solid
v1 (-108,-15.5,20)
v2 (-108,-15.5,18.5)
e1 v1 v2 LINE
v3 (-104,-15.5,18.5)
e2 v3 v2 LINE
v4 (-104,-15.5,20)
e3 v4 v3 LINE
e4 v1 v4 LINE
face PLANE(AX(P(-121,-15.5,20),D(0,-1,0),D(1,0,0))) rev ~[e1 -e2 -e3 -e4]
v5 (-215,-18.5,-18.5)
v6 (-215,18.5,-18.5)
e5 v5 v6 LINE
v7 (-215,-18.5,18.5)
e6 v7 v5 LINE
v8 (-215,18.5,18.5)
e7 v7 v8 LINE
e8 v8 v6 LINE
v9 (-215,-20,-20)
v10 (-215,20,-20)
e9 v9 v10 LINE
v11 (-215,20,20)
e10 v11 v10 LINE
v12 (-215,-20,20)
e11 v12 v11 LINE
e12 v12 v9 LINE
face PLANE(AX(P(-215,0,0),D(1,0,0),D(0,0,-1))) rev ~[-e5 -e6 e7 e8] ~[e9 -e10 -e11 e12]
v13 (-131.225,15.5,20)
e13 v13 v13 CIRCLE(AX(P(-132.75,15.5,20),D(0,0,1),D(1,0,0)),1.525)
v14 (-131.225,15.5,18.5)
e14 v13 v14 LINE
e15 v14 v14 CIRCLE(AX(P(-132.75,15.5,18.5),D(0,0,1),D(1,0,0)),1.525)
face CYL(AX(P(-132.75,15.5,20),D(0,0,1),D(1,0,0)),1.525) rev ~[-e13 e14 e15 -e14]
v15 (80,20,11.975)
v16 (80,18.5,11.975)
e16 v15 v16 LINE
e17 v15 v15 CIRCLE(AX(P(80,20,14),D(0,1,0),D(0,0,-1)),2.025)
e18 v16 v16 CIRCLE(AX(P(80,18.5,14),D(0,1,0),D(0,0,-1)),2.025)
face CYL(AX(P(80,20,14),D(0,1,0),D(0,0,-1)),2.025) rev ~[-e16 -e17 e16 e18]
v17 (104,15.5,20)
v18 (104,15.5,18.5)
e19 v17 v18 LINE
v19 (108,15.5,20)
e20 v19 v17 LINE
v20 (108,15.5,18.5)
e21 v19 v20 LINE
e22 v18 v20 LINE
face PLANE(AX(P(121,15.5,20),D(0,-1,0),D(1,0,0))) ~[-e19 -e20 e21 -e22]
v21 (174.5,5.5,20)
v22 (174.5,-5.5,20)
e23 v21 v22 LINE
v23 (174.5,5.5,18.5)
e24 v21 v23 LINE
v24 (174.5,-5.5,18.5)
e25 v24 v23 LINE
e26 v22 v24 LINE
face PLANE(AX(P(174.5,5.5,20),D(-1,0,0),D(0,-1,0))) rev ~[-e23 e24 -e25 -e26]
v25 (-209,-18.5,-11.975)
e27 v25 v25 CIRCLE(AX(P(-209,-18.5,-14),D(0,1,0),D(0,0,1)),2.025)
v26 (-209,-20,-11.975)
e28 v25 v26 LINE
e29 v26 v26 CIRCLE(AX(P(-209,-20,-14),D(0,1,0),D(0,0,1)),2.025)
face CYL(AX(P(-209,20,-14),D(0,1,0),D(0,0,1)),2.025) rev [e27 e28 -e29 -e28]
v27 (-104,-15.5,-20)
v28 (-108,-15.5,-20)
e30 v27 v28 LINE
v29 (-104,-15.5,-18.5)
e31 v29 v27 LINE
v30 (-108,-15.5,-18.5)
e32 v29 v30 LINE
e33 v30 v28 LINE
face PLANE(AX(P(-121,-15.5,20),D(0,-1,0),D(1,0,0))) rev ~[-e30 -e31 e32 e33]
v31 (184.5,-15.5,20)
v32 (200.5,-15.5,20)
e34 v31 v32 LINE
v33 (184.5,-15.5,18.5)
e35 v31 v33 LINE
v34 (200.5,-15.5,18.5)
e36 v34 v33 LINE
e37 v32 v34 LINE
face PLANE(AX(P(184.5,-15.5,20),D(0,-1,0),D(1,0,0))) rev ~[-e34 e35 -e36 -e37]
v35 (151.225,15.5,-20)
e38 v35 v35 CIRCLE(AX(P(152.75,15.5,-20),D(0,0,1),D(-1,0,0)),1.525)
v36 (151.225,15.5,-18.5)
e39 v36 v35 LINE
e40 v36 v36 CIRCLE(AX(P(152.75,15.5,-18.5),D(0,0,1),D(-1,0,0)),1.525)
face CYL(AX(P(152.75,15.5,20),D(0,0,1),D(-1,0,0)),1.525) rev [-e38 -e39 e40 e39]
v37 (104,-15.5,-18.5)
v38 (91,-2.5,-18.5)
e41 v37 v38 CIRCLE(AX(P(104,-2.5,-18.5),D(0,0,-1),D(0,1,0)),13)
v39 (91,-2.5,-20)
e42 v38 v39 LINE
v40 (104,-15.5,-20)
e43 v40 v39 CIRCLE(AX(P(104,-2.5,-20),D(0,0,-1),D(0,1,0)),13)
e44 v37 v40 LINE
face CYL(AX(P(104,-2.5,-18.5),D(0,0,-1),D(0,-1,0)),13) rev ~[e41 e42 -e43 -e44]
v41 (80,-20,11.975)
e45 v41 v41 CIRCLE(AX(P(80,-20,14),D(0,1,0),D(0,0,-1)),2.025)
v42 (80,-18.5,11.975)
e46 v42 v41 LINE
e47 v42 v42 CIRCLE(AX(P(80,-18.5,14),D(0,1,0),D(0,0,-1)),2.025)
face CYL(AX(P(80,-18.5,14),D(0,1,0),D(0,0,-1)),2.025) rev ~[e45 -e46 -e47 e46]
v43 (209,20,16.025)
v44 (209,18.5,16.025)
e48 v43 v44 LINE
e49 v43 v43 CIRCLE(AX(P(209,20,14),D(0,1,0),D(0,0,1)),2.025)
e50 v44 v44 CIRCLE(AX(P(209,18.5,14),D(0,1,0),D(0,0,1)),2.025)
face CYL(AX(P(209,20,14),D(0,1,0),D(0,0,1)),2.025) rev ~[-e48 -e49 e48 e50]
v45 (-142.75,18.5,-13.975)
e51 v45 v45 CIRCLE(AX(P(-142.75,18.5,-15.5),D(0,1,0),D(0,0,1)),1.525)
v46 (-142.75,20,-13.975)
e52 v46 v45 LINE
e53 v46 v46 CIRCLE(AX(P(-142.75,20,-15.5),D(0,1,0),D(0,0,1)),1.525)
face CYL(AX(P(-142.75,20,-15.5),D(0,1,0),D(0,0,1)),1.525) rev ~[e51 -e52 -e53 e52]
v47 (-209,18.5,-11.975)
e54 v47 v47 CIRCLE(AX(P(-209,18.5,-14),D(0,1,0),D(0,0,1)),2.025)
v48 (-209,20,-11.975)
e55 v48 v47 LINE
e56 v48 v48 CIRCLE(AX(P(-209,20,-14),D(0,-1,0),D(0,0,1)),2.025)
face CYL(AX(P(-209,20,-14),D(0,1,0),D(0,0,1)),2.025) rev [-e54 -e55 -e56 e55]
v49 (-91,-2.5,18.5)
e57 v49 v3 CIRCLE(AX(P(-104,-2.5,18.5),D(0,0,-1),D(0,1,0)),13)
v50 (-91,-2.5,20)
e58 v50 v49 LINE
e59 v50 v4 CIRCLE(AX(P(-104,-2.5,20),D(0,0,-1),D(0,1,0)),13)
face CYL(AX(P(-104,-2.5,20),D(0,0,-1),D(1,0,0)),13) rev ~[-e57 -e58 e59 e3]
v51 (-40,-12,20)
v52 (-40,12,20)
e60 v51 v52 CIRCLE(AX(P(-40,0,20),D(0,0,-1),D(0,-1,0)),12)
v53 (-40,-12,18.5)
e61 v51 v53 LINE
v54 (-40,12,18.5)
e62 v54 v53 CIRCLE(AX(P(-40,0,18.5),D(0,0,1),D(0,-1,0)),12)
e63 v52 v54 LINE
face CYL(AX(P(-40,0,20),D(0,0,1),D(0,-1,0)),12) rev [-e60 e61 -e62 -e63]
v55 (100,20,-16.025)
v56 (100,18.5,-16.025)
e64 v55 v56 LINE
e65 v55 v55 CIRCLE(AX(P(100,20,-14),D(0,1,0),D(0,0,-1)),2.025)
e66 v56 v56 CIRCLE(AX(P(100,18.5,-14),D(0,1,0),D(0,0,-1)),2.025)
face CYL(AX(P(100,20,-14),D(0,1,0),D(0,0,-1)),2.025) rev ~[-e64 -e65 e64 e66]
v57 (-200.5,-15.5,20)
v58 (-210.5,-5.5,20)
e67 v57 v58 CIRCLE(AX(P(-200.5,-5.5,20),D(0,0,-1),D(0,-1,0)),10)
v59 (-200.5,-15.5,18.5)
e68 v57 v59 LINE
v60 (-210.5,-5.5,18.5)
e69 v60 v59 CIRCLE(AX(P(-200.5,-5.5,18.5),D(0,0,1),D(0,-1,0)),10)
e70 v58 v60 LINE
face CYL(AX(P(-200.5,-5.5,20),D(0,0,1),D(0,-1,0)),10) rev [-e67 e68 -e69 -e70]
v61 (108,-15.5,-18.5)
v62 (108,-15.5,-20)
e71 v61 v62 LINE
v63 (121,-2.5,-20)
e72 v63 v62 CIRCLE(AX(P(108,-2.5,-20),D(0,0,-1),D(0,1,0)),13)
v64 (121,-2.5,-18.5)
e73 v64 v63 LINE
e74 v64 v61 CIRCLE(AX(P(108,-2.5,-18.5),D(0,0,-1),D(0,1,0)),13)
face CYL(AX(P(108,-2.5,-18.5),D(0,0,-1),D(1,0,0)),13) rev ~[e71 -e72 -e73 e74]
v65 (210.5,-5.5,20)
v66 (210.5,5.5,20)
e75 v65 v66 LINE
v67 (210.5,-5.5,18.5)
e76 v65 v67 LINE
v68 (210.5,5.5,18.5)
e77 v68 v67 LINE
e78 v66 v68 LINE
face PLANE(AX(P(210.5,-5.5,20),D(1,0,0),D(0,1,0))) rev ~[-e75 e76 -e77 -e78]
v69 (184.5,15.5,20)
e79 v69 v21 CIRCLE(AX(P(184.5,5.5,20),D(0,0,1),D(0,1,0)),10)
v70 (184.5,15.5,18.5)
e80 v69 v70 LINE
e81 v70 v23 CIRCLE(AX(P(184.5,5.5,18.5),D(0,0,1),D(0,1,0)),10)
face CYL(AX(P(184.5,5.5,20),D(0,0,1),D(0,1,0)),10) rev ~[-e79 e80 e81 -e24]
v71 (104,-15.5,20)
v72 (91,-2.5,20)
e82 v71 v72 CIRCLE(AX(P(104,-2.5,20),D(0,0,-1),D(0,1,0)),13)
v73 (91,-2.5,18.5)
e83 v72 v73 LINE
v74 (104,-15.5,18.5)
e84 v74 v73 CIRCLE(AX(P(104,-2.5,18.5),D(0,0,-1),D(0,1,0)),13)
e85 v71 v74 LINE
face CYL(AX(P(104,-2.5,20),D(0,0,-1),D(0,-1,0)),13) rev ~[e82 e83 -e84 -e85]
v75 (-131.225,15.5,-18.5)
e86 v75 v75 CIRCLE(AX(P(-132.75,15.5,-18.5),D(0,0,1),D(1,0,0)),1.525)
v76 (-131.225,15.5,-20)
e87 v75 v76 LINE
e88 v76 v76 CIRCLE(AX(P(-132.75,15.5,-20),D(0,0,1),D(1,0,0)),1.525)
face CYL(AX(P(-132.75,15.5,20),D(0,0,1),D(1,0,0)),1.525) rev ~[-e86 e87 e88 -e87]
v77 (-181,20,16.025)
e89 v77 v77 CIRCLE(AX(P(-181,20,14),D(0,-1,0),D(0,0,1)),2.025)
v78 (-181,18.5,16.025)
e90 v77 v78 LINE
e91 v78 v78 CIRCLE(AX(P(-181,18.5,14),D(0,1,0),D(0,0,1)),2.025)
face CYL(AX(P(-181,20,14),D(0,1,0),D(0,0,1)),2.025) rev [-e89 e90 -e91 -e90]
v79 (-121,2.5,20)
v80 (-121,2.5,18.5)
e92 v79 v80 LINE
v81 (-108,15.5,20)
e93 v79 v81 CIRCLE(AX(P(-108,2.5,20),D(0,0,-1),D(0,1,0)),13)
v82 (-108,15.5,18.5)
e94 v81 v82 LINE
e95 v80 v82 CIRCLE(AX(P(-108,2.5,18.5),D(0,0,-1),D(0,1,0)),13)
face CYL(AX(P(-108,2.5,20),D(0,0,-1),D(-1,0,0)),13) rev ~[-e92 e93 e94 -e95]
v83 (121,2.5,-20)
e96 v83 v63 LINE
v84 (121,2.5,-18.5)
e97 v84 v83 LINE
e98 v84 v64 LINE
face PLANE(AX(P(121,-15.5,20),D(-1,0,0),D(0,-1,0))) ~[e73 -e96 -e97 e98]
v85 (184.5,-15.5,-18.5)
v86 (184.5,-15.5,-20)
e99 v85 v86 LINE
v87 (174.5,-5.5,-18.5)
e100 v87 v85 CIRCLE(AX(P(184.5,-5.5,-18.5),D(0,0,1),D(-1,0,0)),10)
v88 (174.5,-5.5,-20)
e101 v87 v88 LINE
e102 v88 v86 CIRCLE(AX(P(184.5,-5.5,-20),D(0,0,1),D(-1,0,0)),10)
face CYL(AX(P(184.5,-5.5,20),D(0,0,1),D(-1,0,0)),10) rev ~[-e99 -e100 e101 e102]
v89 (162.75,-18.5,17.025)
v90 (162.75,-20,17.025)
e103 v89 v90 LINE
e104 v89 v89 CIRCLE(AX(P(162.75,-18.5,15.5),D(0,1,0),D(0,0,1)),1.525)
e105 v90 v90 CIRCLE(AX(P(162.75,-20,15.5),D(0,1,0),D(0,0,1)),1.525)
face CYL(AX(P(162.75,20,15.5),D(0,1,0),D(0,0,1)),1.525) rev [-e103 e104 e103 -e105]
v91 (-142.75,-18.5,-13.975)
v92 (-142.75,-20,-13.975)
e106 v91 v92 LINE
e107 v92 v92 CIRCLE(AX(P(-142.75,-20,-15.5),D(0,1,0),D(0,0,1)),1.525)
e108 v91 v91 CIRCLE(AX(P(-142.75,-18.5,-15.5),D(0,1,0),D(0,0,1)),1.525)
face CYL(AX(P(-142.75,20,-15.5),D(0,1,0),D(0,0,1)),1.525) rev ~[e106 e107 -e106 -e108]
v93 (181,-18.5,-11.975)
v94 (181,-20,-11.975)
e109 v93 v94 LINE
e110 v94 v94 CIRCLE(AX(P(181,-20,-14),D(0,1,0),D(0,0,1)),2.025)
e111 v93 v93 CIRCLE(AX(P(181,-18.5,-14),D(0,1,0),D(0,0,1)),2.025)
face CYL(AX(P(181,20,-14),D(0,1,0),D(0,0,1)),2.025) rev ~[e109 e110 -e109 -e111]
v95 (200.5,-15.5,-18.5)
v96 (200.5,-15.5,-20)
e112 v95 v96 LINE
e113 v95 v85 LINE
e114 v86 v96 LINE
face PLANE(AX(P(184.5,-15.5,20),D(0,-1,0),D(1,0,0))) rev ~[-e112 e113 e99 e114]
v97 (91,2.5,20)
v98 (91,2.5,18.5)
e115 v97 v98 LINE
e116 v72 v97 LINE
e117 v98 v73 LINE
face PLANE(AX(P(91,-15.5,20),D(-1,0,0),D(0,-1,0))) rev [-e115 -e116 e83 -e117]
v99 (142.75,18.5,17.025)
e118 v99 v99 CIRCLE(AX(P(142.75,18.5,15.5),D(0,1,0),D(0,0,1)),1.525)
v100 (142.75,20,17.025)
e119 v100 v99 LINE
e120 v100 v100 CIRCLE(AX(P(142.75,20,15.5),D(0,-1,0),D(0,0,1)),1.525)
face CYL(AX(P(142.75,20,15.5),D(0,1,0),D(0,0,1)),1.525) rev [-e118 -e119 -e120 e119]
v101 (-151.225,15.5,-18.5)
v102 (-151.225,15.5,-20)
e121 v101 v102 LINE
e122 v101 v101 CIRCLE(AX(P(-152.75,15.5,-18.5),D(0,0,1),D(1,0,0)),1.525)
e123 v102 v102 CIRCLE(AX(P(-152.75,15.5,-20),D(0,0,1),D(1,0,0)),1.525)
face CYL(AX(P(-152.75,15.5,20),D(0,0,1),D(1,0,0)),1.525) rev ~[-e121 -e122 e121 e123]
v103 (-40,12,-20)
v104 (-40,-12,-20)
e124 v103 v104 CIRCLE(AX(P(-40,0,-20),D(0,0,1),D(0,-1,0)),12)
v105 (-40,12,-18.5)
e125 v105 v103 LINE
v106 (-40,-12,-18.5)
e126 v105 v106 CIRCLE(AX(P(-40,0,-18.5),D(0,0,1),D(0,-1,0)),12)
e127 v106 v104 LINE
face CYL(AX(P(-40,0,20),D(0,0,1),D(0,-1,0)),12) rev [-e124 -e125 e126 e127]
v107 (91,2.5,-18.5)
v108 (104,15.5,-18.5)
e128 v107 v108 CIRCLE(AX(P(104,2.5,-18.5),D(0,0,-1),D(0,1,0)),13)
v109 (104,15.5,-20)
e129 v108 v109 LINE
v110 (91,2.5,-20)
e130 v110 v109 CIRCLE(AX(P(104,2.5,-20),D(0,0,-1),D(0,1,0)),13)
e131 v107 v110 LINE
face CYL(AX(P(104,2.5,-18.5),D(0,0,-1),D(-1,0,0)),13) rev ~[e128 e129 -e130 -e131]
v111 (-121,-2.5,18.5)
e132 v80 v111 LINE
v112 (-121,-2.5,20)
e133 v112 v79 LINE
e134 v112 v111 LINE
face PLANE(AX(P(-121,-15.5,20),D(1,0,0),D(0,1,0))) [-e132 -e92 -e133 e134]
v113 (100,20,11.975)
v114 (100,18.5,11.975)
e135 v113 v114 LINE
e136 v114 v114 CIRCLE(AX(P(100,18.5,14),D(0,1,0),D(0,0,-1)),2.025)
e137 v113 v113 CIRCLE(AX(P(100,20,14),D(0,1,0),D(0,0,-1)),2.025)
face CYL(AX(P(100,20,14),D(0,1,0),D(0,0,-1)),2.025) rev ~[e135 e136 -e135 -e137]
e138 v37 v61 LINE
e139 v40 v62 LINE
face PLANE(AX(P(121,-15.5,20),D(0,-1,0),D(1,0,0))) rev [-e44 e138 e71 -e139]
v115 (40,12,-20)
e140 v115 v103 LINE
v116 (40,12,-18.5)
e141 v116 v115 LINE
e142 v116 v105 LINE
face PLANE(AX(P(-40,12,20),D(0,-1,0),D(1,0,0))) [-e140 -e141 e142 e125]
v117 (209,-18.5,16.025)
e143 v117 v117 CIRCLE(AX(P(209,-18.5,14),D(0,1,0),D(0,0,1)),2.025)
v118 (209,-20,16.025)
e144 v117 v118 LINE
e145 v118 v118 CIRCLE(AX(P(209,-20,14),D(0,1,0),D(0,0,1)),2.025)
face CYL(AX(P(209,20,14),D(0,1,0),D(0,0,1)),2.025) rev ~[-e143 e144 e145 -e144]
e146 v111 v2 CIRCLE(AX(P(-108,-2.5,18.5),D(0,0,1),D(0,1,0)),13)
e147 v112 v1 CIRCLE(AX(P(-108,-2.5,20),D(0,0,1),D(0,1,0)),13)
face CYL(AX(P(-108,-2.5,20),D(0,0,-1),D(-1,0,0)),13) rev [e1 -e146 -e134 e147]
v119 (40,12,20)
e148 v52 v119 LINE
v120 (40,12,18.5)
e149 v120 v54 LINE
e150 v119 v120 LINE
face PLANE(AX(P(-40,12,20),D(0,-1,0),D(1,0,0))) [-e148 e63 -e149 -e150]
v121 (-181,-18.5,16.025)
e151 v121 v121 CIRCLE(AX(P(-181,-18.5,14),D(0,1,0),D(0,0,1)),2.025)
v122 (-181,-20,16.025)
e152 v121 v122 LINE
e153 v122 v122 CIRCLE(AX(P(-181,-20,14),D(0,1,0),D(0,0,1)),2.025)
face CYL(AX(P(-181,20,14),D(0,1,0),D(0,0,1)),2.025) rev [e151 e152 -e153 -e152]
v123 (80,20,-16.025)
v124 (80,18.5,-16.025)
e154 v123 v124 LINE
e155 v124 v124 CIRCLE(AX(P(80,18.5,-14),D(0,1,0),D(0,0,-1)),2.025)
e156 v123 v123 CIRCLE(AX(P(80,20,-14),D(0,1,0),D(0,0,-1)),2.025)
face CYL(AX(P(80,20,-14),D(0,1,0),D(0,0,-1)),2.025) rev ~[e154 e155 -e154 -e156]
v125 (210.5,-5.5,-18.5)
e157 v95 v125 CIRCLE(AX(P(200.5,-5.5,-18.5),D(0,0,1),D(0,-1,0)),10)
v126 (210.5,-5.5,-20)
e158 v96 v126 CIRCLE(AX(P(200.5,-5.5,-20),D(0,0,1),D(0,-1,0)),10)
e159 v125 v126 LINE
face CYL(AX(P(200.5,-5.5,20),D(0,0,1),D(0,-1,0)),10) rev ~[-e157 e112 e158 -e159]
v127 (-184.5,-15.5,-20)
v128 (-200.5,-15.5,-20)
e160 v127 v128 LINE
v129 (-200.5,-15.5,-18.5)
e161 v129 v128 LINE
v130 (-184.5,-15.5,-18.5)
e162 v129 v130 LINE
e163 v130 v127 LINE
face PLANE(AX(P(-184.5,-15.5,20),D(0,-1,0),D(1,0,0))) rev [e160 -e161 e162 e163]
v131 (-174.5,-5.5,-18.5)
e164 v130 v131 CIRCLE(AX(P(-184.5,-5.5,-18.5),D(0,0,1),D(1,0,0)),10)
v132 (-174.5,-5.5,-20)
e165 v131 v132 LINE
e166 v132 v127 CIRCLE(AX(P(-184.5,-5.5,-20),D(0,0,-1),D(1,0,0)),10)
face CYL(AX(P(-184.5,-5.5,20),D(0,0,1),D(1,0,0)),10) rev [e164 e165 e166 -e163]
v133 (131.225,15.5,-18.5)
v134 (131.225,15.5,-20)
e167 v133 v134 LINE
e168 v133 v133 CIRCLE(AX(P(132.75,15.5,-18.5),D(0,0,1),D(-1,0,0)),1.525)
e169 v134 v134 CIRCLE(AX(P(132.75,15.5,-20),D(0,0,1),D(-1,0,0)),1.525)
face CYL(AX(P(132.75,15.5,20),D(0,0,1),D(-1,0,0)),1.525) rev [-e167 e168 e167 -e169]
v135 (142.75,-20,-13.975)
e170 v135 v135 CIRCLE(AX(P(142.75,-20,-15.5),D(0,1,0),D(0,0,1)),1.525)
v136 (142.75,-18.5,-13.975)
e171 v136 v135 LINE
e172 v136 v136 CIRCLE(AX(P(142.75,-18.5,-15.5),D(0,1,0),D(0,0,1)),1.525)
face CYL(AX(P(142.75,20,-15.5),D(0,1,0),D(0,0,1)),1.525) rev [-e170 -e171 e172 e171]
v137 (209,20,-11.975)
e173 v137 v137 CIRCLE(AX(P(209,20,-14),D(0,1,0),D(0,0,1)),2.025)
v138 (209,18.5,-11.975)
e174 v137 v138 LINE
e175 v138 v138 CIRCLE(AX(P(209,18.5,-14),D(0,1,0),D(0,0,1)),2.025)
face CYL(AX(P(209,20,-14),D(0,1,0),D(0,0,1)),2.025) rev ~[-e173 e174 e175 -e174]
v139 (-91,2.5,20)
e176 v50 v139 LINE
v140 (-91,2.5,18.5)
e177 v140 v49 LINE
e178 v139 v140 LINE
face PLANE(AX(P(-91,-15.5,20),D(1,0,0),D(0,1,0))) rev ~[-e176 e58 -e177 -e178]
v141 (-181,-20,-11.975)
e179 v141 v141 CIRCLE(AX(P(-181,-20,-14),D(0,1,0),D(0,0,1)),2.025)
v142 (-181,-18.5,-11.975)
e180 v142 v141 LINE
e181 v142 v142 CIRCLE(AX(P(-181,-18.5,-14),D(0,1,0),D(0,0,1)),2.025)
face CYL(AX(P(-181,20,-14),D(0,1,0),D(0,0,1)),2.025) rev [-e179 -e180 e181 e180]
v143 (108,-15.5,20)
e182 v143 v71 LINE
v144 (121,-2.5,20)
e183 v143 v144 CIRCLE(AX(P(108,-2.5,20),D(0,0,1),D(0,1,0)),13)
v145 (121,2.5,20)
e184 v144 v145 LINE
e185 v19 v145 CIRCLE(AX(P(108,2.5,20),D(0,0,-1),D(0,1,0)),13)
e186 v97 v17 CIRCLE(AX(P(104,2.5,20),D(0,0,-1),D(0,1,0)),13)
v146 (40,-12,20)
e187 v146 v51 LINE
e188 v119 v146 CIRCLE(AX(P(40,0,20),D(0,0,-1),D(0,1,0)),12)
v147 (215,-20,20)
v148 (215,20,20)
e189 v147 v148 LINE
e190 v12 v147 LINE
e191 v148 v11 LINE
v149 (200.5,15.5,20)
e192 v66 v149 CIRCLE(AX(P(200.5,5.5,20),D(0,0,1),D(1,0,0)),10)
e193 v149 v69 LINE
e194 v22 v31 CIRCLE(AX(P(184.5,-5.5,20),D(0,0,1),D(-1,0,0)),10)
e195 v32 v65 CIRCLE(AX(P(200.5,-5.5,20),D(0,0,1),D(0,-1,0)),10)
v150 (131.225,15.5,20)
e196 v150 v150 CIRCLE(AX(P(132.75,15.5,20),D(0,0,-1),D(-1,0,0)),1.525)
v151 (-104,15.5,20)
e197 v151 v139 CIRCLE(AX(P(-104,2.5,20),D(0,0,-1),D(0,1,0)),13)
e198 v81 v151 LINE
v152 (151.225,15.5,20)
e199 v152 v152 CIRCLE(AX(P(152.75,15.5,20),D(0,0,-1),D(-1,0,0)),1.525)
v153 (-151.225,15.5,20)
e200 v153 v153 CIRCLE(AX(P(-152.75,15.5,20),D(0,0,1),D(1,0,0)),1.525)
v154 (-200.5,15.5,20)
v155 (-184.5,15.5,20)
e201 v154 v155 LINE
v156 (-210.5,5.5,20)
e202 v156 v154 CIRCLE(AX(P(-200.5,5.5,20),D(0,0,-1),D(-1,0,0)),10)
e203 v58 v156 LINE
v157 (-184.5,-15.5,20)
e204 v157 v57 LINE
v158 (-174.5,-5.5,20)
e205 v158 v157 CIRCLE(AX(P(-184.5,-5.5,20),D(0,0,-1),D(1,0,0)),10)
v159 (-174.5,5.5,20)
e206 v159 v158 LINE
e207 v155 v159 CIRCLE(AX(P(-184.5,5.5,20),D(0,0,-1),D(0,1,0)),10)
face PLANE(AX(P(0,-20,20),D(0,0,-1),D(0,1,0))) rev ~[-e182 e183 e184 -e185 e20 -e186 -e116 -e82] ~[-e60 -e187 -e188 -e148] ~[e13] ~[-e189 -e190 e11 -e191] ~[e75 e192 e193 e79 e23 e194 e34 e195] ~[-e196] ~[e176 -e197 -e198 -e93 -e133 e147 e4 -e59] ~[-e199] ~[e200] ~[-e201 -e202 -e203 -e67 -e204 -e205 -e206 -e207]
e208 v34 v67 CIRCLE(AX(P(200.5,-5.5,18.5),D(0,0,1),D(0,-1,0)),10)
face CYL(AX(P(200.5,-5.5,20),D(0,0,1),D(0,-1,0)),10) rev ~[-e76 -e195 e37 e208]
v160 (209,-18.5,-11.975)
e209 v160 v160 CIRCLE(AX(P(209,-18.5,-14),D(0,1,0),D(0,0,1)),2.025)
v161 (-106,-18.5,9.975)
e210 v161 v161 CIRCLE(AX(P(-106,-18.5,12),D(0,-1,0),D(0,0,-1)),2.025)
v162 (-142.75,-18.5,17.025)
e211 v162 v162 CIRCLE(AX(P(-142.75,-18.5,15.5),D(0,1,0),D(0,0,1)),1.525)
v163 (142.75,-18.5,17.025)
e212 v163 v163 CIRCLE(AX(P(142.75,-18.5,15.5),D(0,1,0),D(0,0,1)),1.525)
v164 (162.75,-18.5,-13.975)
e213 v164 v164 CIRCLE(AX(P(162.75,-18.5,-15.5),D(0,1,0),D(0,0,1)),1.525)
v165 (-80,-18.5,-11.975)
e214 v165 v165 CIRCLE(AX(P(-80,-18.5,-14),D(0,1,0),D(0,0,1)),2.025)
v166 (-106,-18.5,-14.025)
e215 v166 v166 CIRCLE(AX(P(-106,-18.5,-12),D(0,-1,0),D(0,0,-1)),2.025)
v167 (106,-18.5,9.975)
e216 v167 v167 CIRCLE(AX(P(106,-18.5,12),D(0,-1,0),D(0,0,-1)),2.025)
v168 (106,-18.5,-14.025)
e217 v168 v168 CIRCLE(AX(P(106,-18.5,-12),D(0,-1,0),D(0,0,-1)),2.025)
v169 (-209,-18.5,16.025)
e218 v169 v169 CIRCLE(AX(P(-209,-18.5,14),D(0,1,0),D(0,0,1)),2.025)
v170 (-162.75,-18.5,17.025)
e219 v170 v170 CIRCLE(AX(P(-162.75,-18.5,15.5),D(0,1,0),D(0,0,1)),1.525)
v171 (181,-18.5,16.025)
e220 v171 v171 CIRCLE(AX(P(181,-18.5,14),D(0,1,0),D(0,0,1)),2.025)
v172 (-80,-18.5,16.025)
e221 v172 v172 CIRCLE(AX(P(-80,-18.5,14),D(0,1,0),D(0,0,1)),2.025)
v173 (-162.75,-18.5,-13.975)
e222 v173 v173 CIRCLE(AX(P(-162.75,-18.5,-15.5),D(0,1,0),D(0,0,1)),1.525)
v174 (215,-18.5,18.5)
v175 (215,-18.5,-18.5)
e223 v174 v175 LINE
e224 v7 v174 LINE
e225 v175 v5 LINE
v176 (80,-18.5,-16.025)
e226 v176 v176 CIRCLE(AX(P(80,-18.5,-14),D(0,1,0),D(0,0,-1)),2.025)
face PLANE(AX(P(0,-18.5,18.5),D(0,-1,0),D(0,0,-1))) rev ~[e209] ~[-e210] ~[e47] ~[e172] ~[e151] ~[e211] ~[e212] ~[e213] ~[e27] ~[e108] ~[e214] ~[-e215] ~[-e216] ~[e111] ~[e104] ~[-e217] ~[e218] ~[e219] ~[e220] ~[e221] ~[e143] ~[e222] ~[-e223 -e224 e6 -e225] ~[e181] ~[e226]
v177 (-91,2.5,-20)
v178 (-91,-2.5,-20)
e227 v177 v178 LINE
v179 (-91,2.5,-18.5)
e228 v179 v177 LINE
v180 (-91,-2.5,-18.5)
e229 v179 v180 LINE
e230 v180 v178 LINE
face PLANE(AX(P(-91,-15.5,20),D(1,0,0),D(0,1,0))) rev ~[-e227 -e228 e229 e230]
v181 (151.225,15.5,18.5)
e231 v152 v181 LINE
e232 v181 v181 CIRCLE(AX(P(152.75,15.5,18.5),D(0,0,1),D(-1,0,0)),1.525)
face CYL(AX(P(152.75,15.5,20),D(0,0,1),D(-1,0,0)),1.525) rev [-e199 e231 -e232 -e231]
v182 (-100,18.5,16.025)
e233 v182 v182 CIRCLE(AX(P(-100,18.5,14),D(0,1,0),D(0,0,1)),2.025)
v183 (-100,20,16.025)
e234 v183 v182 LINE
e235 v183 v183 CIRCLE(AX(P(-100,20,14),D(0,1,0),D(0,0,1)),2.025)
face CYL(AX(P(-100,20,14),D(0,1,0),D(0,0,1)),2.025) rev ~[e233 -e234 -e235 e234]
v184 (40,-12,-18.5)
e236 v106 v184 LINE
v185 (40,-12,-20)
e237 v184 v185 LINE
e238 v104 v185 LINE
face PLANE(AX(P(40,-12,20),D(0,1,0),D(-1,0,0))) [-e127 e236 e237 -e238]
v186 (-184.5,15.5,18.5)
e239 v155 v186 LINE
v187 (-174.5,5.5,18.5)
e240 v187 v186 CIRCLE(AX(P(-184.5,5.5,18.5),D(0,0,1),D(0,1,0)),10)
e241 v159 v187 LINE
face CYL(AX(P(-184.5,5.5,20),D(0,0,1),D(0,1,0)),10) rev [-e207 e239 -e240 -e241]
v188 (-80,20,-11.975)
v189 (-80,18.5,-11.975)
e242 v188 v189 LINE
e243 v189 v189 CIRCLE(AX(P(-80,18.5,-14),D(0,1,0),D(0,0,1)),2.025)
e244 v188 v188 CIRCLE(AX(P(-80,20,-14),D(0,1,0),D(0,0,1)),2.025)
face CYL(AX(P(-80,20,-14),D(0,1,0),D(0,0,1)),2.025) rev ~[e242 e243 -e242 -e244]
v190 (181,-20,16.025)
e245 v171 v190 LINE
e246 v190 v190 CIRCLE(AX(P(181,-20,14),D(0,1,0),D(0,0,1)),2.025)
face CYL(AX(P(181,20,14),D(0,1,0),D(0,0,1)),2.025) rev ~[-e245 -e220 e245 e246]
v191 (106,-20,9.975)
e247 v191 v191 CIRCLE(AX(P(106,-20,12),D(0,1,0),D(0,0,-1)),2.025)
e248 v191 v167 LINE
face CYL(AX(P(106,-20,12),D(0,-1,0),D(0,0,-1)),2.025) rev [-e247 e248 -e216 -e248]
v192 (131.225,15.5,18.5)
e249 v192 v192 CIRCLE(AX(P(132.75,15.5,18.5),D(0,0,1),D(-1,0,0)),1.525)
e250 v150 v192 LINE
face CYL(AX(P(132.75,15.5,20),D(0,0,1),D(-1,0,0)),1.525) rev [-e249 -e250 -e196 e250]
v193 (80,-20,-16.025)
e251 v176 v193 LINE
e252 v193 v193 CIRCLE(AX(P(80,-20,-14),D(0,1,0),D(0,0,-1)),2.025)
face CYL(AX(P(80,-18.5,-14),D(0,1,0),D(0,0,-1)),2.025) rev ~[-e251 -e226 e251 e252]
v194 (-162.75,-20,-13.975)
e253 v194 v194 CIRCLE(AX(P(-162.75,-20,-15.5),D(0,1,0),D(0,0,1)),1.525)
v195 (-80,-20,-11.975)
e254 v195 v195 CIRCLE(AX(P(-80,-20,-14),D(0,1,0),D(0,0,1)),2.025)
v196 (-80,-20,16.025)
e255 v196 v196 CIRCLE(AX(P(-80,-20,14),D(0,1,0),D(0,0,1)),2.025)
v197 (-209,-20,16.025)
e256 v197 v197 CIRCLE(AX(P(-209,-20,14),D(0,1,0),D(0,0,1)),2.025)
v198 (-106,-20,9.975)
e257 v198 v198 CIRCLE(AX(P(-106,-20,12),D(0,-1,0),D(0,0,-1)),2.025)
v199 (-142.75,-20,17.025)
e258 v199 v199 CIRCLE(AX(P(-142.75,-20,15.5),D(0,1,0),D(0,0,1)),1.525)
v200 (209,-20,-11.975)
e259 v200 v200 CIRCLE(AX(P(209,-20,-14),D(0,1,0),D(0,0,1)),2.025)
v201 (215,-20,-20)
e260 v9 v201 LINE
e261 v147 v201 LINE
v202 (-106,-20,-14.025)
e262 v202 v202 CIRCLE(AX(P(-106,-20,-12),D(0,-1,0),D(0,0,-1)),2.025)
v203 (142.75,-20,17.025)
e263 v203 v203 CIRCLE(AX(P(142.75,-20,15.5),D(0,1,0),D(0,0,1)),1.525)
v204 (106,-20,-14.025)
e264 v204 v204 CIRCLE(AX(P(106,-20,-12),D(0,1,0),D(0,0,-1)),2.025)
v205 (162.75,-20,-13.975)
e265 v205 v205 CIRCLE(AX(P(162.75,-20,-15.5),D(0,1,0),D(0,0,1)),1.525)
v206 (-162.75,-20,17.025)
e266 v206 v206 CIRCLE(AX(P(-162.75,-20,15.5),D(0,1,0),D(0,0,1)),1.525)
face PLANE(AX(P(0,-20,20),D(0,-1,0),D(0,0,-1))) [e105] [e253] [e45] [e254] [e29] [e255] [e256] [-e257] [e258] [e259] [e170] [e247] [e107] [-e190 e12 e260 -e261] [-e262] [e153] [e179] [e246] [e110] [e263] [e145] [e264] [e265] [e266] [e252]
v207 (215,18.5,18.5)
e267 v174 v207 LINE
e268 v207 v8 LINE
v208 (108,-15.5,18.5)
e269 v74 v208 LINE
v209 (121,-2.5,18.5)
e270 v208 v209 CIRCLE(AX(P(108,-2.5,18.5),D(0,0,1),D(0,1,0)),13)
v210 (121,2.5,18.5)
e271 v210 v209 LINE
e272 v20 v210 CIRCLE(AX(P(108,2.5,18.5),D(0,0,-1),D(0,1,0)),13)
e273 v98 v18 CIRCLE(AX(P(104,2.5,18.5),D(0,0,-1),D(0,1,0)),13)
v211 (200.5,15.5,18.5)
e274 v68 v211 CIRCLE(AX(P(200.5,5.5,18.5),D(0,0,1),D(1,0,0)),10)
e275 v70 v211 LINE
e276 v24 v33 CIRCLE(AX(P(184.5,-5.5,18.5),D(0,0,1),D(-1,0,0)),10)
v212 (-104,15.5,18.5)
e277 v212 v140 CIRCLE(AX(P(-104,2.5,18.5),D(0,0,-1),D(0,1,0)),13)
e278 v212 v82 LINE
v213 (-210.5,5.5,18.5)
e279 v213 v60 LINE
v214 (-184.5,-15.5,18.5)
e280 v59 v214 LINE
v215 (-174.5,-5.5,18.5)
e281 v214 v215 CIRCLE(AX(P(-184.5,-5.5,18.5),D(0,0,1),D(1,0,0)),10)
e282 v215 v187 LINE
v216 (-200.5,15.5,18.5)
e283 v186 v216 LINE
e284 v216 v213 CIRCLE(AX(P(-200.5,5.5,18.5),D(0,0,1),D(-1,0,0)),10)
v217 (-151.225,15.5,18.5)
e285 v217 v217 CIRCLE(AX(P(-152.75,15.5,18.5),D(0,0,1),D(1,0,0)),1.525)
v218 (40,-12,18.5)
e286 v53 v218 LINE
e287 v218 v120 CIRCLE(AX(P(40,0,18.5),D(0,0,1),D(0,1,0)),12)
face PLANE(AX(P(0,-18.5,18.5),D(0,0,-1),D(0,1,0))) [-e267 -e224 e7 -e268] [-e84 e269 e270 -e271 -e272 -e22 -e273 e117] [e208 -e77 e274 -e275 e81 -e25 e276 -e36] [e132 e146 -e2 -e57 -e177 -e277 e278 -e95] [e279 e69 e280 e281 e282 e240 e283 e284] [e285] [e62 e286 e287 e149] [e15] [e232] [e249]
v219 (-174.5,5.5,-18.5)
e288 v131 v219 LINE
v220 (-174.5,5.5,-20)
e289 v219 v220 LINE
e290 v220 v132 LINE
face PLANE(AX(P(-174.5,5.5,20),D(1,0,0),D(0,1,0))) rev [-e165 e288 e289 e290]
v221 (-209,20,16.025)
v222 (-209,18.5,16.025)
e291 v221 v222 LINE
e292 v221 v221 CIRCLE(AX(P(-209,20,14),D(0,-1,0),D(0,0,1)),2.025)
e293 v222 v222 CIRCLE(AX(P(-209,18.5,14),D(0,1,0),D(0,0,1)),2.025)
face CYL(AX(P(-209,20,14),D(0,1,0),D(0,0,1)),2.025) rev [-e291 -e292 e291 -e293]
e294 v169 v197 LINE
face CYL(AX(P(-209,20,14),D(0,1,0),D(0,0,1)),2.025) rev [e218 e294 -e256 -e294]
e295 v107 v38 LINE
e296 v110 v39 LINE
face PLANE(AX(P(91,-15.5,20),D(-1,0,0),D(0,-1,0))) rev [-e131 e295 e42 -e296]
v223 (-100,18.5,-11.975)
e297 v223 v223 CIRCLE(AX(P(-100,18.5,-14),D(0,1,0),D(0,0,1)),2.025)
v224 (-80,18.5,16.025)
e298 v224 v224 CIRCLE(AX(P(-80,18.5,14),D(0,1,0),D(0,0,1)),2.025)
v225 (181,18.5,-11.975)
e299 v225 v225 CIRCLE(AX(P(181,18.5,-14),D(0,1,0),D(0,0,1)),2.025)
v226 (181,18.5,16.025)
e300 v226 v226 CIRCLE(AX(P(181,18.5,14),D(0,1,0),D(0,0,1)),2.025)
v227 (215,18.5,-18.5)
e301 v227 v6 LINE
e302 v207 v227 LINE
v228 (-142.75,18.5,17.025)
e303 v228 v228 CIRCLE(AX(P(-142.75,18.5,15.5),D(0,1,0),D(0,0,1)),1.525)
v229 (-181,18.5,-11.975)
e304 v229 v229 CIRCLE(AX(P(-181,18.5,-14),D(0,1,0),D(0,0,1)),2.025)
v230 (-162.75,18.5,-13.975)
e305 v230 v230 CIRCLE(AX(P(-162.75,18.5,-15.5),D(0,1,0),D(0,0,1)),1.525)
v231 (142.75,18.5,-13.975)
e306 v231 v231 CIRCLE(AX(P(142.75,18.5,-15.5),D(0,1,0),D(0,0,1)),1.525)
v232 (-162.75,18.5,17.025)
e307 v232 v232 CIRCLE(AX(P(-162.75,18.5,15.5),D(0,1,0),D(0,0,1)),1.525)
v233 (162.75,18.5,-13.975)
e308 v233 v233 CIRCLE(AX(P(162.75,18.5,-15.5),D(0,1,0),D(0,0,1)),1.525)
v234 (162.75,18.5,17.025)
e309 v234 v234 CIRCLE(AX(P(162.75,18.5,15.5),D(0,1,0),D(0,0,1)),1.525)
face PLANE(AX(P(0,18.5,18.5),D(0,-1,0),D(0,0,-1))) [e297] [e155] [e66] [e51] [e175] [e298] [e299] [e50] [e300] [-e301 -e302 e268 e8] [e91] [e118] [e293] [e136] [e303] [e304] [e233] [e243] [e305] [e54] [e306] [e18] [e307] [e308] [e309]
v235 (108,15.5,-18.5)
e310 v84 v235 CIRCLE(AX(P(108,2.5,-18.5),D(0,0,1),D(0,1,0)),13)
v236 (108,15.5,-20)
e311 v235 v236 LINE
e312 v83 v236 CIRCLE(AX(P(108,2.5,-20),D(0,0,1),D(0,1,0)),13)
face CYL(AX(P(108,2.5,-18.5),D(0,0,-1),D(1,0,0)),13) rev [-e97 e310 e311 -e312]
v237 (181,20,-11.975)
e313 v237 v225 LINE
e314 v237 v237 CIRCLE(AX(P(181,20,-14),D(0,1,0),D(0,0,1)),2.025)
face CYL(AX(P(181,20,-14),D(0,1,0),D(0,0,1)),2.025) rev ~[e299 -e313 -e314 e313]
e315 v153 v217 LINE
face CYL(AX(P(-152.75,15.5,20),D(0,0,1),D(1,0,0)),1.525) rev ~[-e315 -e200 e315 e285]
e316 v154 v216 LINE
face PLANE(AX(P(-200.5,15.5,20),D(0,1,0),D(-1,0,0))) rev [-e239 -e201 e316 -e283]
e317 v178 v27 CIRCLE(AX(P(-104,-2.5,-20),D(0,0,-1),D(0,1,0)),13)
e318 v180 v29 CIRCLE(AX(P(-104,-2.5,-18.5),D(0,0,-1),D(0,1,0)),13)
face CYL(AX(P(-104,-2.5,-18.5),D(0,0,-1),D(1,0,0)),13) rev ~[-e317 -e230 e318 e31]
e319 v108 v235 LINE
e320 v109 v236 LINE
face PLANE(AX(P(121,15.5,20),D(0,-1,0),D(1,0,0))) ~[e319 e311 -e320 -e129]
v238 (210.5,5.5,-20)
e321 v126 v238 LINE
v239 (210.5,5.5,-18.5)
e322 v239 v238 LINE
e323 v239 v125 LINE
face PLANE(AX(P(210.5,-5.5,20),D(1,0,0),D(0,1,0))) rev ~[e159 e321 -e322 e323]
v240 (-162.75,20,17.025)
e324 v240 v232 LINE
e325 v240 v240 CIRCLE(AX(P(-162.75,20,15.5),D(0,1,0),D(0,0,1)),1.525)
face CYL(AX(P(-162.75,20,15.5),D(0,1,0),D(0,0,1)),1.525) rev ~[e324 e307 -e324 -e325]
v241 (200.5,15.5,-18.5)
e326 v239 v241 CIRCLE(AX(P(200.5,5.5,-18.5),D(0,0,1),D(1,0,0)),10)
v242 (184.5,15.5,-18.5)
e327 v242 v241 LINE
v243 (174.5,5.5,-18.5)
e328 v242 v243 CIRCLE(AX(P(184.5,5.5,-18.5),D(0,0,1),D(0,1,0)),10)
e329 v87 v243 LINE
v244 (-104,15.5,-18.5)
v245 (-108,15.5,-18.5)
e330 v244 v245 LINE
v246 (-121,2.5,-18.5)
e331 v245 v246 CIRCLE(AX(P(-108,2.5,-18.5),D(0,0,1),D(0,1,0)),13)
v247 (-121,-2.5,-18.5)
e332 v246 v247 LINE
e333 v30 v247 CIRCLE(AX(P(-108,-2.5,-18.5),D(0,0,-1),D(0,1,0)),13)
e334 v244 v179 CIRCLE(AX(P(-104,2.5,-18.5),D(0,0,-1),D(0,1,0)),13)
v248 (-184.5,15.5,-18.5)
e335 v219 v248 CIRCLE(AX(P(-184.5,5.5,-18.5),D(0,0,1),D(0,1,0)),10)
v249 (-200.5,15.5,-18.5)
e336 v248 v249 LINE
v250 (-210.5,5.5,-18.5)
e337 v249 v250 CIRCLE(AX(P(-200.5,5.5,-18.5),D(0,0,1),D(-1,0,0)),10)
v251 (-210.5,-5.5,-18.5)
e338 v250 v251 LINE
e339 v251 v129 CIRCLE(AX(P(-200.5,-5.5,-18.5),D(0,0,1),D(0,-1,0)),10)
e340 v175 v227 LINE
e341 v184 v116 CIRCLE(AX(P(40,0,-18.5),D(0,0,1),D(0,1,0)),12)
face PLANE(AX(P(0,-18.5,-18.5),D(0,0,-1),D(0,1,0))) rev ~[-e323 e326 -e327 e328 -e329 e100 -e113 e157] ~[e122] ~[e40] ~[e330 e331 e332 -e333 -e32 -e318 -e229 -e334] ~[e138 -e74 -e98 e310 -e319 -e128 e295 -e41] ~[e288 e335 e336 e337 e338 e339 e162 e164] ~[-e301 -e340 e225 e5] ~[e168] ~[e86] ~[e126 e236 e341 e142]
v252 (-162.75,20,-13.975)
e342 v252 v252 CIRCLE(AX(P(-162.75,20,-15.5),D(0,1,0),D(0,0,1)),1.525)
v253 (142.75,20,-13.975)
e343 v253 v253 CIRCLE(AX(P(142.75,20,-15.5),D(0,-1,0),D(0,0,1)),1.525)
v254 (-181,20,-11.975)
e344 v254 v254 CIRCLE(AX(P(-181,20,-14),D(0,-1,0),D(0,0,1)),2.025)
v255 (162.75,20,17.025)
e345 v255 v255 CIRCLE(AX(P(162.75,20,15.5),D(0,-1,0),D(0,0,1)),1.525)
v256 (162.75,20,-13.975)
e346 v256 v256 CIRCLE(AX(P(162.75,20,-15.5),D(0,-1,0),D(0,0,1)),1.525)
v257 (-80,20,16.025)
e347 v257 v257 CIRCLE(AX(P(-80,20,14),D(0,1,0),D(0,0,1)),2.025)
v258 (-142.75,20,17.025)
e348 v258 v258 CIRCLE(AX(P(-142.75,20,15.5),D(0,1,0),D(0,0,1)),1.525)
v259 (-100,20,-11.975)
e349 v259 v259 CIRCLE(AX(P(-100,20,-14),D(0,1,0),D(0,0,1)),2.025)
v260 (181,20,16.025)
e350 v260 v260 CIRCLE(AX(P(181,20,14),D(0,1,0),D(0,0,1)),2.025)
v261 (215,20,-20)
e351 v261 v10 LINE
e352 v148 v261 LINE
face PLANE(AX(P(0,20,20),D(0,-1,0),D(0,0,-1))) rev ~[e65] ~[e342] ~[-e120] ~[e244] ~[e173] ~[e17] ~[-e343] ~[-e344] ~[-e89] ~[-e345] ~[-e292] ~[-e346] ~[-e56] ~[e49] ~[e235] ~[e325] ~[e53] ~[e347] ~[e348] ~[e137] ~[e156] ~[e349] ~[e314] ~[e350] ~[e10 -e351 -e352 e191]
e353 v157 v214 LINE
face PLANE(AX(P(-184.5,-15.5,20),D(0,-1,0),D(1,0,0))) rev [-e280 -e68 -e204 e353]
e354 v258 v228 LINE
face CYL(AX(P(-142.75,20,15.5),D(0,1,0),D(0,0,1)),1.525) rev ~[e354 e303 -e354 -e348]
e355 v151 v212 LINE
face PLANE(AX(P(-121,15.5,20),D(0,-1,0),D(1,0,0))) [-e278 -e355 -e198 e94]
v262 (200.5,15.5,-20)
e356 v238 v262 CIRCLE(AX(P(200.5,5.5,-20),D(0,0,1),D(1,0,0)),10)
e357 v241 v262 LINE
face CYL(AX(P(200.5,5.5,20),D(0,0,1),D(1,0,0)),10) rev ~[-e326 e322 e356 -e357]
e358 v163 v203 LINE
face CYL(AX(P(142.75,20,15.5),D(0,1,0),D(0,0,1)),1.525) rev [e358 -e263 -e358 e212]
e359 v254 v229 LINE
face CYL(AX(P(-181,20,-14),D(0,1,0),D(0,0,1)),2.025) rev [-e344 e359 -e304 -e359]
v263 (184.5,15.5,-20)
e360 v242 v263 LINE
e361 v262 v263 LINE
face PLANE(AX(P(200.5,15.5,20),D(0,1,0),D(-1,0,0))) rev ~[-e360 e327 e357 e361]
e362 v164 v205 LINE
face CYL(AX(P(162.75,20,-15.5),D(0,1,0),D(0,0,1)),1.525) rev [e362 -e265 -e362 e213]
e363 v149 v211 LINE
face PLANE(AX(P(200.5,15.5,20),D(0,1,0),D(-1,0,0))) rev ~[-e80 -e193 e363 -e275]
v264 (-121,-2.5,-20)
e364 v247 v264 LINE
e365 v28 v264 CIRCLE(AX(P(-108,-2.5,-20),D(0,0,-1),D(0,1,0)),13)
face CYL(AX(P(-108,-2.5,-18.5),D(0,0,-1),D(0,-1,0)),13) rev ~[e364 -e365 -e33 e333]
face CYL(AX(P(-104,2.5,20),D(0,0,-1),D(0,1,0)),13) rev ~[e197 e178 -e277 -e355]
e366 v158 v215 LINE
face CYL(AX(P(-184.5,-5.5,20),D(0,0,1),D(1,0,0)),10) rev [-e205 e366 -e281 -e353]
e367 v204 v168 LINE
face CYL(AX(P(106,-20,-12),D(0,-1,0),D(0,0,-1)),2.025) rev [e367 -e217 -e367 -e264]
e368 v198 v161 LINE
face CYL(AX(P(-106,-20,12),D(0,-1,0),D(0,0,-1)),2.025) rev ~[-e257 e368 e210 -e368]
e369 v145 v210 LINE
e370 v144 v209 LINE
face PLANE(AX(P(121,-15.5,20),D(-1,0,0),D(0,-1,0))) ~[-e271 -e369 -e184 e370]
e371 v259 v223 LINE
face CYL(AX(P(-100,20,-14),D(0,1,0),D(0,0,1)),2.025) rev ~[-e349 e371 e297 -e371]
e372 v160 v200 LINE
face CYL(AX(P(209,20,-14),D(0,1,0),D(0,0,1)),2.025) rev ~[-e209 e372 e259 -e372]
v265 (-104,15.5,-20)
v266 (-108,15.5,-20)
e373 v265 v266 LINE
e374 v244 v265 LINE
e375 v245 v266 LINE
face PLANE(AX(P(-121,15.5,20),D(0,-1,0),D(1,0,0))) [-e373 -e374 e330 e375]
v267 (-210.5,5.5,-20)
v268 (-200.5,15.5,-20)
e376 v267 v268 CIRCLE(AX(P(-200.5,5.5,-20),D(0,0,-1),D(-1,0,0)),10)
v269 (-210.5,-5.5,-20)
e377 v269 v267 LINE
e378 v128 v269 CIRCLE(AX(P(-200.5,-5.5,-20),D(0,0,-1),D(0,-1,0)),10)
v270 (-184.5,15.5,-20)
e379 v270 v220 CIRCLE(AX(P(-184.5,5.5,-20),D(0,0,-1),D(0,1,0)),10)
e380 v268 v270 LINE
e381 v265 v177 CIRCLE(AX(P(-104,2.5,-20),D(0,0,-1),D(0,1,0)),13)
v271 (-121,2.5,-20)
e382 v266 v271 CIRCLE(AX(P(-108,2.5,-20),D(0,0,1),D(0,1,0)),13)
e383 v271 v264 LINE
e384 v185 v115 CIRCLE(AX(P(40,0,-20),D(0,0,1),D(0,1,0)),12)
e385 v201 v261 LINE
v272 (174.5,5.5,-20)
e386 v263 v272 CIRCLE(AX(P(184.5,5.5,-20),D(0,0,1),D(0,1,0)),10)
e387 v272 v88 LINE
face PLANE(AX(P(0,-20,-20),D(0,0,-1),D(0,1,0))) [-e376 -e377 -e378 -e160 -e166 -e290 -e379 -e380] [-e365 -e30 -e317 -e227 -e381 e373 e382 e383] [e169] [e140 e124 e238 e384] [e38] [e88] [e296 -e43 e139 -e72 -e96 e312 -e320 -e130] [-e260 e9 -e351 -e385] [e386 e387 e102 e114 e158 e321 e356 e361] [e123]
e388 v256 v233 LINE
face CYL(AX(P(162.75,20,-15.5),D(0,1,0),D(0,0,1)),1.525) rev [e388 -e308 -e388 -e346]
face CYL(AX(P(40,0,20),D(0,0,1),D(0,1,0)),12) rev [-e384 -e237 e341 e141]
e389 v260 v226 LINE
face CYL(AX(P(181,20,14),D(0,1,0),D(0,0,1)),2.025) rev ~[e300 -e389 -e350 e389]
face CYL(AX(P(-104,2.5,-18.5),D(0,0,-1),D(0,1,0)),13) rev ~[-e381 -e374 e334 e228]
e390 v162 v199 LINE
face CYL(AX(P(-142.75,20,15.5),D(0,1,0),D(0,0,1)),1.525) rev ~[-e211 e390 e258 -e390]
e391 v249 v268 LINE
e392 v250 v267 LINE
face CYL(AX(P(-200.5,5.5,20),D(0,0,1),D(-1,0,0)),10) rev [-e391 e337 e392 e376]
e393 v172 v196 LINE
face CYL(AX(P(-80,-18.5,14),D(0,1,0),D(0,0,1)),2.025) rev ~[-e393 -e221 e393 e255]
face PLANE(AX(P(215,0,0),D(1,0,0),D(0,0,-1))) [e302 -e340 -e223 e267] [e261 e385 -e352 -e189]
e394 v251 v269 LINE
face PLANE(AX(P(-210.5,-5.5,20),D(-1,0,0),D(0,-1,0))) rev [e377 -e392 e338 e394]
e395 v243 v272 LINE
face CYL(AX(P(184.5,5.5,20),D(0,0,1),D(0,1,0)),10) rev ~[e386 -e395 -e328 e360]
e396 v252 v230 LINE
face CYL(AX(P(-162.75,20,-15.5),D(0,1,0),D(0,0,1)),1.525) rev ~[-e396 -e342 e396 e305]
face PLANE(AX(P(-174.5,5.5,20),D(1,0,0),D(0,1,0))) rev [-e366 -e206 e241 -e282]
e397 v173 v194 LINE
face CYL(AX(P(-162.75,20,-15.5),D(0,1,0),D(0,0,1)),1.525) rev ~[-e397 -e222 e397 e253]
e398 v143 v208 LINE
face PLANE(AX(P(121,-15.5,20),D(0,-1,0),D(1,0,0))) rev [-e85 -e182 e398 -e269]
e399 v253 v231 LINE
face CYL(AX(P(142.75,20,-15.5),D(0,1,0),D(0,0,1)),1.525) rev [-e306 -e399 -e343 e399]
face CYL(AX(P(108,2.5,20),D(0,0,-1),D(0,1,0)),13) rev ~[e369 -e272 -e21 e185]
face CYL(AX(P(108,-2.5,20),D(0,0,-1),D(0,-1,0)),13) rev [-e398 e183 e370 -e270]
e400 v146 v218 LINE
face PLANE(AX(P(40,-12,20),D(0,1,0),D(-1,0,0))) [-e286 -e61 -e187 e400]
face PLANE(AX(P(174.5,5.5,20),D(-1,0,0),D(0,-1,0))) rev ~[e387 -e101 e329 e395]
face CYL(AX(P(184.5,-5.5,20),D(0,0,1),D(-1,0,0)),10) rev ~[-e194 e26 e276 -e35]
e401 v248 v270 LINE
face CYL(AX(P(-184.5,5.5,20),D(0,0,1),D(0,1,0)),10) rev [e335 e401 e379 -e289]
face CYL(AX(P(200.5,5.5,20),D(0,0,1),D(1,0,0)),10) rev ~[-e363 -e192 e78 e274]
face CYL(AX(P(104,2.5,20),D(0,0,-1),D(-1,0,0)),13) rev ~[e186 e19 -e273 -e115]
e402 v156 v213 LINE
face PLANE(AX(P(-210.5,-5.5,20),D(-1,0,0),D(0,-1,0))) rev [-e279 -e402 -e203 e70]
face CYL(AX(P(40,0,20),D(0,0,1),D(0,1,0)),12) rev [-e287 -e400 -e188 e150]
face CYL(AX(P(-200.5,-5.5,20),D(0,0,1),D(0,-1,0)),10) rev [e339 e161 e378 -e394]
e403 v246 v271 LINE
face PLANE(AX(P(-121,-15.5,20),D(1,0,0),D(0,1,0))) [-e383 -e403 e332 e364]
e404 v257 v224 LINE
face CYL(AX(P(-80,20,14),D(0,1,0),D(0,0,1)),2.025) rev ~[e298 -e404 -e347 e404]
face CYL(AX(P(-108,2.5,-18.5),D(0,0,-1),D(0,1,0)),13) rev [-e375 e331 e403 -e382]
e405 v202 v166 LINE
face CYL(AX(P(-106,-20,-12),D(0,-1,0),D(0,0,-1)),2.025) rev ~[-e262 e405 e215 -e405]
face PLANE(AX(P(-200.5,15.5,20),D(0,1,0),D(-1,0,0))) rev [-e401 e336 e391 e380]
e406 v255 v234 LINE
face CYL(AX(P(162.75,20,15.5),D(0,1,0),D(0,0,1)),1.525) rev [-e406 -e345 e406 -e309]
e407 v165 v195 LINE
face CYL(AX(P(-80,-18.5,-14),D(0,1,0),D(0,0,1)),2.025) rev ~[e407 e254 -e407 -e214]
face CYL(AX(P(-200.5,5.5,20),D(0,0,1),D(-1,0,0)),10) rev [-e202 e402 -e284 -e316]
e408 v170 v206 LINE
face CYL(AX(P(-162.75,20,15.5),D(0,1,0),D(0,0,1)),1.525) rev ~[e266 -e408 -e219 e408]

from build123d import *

# Parameters (mm, degrees)
SKETCH_1_W             = 40
SKETCH_1_H             = 40
SKETCH_1_W_2           = 37
SKETCH_1_H_2           = 37
EXTRUDE_1_DEPTH        = 215
CUT_EXTRUDE_1_DEPTH    = 40
SKETCH_3_R             = 2.025
CUT_EXTRUDE_2_DEPTH    = 50
SKETCH_5_R             = 2.025
CUT_EXTRUDE_3_DEPTH    = 30
SKETCH_6_W             = 30
SKETCH_6_H             = 31
CUT_EXTRUDE_4_DEPTH    = 54
FILLET_1_R             = 13
FILLET_1_OF_MIRROR_4_R = 13
SKETCH_8_R             = 2.025
CUT_EXTRUDE_5_DEPTH    = 3
SKETCH_9_R             = 2.025
CUT_EXTRUDE_6_DEPTH    = 10
CUT_EXTRUDE_7_DEPTH    = 220.60191256
SKETCH_12_R            = 1.525
CUT_EXTRUDE_8_DEPTH    = 60
SKETCH_13_R            = 1.525
CUT_EXTRUDE_9_DEPTH    = 60


with BuildPart() as part:
    # 草图1 → 凸台-拉伸1 (new, symmetric)
    with BuildSketch(Plane(origin=(0, 0, 0), x_dir=(0, 0, -1), z_dir=(1, 0, 0))):
        Rectangle(SKETCH_1_W, SKETCH_1_H)
        Rectangle(SKETCH_1_W_2, SKETCH_1_H_2, mode=Mode.SUBTRACT)
    extrude(amount=EXTRUDE_1_DEPTH, both=True)

    # 草图2 → 切除-拉伸1 (cut)
    with BuildSketch(Plane.XY.offset(20)):
        with BuildLine():
            Line((184.5, -15.5), (200.5, -15.5))
            ThreePointArc((200.5, -15.5), (207.571067812, -12.571067812), (210.5, -5.5))
            Line((210.5, -5.5), (210.5, 5.5))
            ThreePointArc((210.5, 5.5), (207.571067812, 12.571067812), (200.5, 15.5))
            Line((200.5, 15.5), (184.5, 15.5))
            ThreePointArc((184.5, 15.5), (177.428932188, 12.571067812), (174.5, 5.5))
            Line((174.5, 5.5), (174.5, -5.5))
            ThreePointArc((174.5, -5.5), (177.428932188, -12.571067812), (184.5, -15.5))
        make_face()
    cut_extrude_1 = extrude(amount=-CUT_EXTRUDE_1_DEPTH, mode=Mode.SUBTRACT)

    # 镜向1: 切除-拉伸1 across plane
    add(cut_extrude_1.mirror(Plane(origin=(0, 0, 0), x_dir=(0, 0, 1), z_dir=(1, 0, 0))), mode=Mode.SUBTRACT)

    # 草图3 → 切除-拉伸2 (cut)
    with BuildSketch(Plane(origin=(0, 20, 0), x_dir=(1, 0, 0), z_dir=(0, 1, 0))):
        with Locations((181, 14)):
            Circle(SKETCH_3_R)
        with Locations((209, 14)):
            Circle(SKETCH_3_R)
        with Locations((181, -14)):
            Circle(SKETCH_3_R)
        with Locations((209, -14)):
            Circle(SKETCH_3_R)
    cut_extrude_2 = extrude(amount=-CUT_EXTRUDE_2_DEPTH, mode=Mode.SUBTRACT)

    # 镜向2: 切除-拉伸2 across plane
    add(cut_extrude_2.mirror(Plane(origin=(0, 0, 0), x_dir=(0, 0, 1), z_dir=(1, 0, 0))), mode=Mode.SUBTRACT)

    # 草图5 → 切除-拉伸3 (cut)
    with BuildSketch(Plane.XZ.offset(20)):
        with Locations((-106, -12)):
            Circle(SKETCH_5_R)
        with Locations((-106, 12)):
            Circle(SKETCH_5_R)
    cut_extrude_3 = extrude(amount=-CUT_EXTRUDE_3_DEPTH, mode=Mode.SUBTRACT)

    # 镜向3: 切除-拉伸3 across plane
    add(cut_extrude_3.mirror(Plane(origin=(0, 0, 0), x_dir=(0, 0, 1), z_dir=(1, 0, 0))), mode=Mode.SUBTRACT)

    # 草图6 → 切除-拉伸4 (cut)
    with BuildSketch(Plane.XY.offset(20)):
        with Locations((-106, 0)):
            Rectangle(SKETCH_6_W, SKETCH_6_H)
    cut_extrude_4 = extrude(amount=-CUT_EXTRUDE_4_DEPTH, mode=Mode.SUBTRACT)

    # 圆角1
    fillet_1_edges = [part.edges().sort_by_distance(p)[0] for p in [
        (-91, -15.5, 19.25),
        (-121, 15.5, 19.25),
        (-91, 15.5, 19.25),
        (-121, -15.5, 19.25),
        (-121, 15.5, -19.25),
        (-91, 15.5, -19.25),
        (-91, -15.5, -19.25),
        (-121, -15.5, -19.25),
    ]]
    fillet(fillet_1_edges, radius=FILLET_1_R)

    # 镜向4: 切除-拉伸4 across plane
    add(cut_extrude_4.mirror(Plane(origin=(0, 0, 0), x_dir=(0, 0, 1), z_dir=(1, 0, 0))), mode=Mode.SUBTRACT)

    # 圆角1 of 镜向4
    fillet_1_of_mirror_4_edges = [part.edges().sort_by_distance(p)[0] for p in [
        (91, -15.5, 19.25),
        (121, 15.5, 19.25),
        (91, 15.5, 19.25),
        (121, -15.5, 19.25),
        (121, 15.5, -19.25),
        (91, 15.5, -19.25),
        (91, -15.5, -19.25),
        (121, -15.5, -19.25),
    ]]
    fillet(fillet_1_of_mirror_4_edges, radius=FILLET_1_OF_MIRROR_4_R)

    # 草图8 → 切除-拉伸5 (cut)
    with BuildSketch(Plane(origin=(0, 20, 0), x_dir=(1, 0, 0), z_dir=(0, 1, 0))):
        with Locations((-100, 14)):
            Circle(SKETCH_8_R)
        with Locations((-80, 14)):
            Circle(SKETCH_8_R)
        with Locations((-100, -14)):
            Circle(SKETCH_8_R)
        with Locations((-80, -14)):
            Circle(SKETCH_8_R)
        with Locations((80, -14)):
            Circle(SKETCH_8_R)
        with Locations((100, -14)):
            Circle(SKETCH_8_R)
        with Locations((80, 14)):
            Circle(SKETCH_8_R)
        with Locations((100, 14)):
            Circle(SKETCH_8_R)
    extrude(amount=-CUT_EXTRUDE_5_DEPTH, mode=Mode.SUBTRACT)

    # 草图9 → 切除-拉伸6 (cut)
    with BuildSketch(Plane(origin=(0, -18.5, 0), x_dir=(1, 0, 0), z_dir=(0, 1, 0))):
        with Locations((-80, -14)):
            Circle(SKETCH_9_R)
        with Locations((-80, 14)):
            Circle(SKETCH_9_R)
        with Locations((80, -14)):
            Circle(SKETCH_9_R)
        with Locations((80, 14)):
            Circle(SKETCH_9_R)
    extrude(amount=-CUT_EXTRUDE_6_DEPTH, mode=Mode.SUBTRACT)

    # 草图10 → 切除-拉伸7 (cut, through all)
    with BuildSketch(Plane.XY.offset(20)):
        with BuildLine():
            Line((-40, 12), (40, 12))
            ThreePointArc((40, 12), (52, 0), (40, -12))
            Line((40, -12), (-40, -12))
            ThreePointArc((-40, -12), (-52, 0), (-40, 12))
        make_face()
    extrude(amount=-CUT_EXTRUDE_7_DEPTH, mode=Mode.SUBTRACT)

    # 草图12 → 切除-拉伸8 (cut)
    with BuildSketch(Plane.XY.offset(20)):
        with Locations((-152.75, 15.5)):
            Circle(SKETCH_12_R)
        with Locations((-132.75, 15.5)):
            Circle(SKETCH_12_R)
    cut_extrude_8 = extrude(amount=-CUT_EXTRUDE_8_DEPTH, mode=Mode.SUBTRACT)

    # 草图13 → 切除-拉伸9 (cut)
    with BuildSketch(Plane(origin=(0, 20, 0), x_dir=(1, 0, 0), z_dir=(0, 1, 0))):
        with Locations((-162.75, -15.5)):
            Circle(SKETCH_13_R)
        with Locations((-142.75, -15.5)):
            Circle(SKETCH_13_R)
        with Locations((-142.75, 15.5)):
            Circle(SKETCH_13_R)
        with Locations((-162.75, 15.5)):
            Circle(SKETCH_13_R)
    cut_extrude_9 = extrude(amount=-CUT_EXTRUDE_9_DEPTH, mode=Mode.SUBTRACT)

    # 镜向5: 切除-拉伸8, 切除-拉伸9 across plane
    add(cut_extrude_8.mirror(Plane(origin=(0, 0, 0), x_dir=(0, 0, 1), z_dir=(1, 0, 0))), mode=Mode.SUBTRACT)
    add(cut_extrude_9.mirror(Plane(origin=(0, 0, 0), x_dir=(0, 0, 1), z_dir=(1, 0, 0))), mode=Mode.SUBTRACT)


solid = part.part
